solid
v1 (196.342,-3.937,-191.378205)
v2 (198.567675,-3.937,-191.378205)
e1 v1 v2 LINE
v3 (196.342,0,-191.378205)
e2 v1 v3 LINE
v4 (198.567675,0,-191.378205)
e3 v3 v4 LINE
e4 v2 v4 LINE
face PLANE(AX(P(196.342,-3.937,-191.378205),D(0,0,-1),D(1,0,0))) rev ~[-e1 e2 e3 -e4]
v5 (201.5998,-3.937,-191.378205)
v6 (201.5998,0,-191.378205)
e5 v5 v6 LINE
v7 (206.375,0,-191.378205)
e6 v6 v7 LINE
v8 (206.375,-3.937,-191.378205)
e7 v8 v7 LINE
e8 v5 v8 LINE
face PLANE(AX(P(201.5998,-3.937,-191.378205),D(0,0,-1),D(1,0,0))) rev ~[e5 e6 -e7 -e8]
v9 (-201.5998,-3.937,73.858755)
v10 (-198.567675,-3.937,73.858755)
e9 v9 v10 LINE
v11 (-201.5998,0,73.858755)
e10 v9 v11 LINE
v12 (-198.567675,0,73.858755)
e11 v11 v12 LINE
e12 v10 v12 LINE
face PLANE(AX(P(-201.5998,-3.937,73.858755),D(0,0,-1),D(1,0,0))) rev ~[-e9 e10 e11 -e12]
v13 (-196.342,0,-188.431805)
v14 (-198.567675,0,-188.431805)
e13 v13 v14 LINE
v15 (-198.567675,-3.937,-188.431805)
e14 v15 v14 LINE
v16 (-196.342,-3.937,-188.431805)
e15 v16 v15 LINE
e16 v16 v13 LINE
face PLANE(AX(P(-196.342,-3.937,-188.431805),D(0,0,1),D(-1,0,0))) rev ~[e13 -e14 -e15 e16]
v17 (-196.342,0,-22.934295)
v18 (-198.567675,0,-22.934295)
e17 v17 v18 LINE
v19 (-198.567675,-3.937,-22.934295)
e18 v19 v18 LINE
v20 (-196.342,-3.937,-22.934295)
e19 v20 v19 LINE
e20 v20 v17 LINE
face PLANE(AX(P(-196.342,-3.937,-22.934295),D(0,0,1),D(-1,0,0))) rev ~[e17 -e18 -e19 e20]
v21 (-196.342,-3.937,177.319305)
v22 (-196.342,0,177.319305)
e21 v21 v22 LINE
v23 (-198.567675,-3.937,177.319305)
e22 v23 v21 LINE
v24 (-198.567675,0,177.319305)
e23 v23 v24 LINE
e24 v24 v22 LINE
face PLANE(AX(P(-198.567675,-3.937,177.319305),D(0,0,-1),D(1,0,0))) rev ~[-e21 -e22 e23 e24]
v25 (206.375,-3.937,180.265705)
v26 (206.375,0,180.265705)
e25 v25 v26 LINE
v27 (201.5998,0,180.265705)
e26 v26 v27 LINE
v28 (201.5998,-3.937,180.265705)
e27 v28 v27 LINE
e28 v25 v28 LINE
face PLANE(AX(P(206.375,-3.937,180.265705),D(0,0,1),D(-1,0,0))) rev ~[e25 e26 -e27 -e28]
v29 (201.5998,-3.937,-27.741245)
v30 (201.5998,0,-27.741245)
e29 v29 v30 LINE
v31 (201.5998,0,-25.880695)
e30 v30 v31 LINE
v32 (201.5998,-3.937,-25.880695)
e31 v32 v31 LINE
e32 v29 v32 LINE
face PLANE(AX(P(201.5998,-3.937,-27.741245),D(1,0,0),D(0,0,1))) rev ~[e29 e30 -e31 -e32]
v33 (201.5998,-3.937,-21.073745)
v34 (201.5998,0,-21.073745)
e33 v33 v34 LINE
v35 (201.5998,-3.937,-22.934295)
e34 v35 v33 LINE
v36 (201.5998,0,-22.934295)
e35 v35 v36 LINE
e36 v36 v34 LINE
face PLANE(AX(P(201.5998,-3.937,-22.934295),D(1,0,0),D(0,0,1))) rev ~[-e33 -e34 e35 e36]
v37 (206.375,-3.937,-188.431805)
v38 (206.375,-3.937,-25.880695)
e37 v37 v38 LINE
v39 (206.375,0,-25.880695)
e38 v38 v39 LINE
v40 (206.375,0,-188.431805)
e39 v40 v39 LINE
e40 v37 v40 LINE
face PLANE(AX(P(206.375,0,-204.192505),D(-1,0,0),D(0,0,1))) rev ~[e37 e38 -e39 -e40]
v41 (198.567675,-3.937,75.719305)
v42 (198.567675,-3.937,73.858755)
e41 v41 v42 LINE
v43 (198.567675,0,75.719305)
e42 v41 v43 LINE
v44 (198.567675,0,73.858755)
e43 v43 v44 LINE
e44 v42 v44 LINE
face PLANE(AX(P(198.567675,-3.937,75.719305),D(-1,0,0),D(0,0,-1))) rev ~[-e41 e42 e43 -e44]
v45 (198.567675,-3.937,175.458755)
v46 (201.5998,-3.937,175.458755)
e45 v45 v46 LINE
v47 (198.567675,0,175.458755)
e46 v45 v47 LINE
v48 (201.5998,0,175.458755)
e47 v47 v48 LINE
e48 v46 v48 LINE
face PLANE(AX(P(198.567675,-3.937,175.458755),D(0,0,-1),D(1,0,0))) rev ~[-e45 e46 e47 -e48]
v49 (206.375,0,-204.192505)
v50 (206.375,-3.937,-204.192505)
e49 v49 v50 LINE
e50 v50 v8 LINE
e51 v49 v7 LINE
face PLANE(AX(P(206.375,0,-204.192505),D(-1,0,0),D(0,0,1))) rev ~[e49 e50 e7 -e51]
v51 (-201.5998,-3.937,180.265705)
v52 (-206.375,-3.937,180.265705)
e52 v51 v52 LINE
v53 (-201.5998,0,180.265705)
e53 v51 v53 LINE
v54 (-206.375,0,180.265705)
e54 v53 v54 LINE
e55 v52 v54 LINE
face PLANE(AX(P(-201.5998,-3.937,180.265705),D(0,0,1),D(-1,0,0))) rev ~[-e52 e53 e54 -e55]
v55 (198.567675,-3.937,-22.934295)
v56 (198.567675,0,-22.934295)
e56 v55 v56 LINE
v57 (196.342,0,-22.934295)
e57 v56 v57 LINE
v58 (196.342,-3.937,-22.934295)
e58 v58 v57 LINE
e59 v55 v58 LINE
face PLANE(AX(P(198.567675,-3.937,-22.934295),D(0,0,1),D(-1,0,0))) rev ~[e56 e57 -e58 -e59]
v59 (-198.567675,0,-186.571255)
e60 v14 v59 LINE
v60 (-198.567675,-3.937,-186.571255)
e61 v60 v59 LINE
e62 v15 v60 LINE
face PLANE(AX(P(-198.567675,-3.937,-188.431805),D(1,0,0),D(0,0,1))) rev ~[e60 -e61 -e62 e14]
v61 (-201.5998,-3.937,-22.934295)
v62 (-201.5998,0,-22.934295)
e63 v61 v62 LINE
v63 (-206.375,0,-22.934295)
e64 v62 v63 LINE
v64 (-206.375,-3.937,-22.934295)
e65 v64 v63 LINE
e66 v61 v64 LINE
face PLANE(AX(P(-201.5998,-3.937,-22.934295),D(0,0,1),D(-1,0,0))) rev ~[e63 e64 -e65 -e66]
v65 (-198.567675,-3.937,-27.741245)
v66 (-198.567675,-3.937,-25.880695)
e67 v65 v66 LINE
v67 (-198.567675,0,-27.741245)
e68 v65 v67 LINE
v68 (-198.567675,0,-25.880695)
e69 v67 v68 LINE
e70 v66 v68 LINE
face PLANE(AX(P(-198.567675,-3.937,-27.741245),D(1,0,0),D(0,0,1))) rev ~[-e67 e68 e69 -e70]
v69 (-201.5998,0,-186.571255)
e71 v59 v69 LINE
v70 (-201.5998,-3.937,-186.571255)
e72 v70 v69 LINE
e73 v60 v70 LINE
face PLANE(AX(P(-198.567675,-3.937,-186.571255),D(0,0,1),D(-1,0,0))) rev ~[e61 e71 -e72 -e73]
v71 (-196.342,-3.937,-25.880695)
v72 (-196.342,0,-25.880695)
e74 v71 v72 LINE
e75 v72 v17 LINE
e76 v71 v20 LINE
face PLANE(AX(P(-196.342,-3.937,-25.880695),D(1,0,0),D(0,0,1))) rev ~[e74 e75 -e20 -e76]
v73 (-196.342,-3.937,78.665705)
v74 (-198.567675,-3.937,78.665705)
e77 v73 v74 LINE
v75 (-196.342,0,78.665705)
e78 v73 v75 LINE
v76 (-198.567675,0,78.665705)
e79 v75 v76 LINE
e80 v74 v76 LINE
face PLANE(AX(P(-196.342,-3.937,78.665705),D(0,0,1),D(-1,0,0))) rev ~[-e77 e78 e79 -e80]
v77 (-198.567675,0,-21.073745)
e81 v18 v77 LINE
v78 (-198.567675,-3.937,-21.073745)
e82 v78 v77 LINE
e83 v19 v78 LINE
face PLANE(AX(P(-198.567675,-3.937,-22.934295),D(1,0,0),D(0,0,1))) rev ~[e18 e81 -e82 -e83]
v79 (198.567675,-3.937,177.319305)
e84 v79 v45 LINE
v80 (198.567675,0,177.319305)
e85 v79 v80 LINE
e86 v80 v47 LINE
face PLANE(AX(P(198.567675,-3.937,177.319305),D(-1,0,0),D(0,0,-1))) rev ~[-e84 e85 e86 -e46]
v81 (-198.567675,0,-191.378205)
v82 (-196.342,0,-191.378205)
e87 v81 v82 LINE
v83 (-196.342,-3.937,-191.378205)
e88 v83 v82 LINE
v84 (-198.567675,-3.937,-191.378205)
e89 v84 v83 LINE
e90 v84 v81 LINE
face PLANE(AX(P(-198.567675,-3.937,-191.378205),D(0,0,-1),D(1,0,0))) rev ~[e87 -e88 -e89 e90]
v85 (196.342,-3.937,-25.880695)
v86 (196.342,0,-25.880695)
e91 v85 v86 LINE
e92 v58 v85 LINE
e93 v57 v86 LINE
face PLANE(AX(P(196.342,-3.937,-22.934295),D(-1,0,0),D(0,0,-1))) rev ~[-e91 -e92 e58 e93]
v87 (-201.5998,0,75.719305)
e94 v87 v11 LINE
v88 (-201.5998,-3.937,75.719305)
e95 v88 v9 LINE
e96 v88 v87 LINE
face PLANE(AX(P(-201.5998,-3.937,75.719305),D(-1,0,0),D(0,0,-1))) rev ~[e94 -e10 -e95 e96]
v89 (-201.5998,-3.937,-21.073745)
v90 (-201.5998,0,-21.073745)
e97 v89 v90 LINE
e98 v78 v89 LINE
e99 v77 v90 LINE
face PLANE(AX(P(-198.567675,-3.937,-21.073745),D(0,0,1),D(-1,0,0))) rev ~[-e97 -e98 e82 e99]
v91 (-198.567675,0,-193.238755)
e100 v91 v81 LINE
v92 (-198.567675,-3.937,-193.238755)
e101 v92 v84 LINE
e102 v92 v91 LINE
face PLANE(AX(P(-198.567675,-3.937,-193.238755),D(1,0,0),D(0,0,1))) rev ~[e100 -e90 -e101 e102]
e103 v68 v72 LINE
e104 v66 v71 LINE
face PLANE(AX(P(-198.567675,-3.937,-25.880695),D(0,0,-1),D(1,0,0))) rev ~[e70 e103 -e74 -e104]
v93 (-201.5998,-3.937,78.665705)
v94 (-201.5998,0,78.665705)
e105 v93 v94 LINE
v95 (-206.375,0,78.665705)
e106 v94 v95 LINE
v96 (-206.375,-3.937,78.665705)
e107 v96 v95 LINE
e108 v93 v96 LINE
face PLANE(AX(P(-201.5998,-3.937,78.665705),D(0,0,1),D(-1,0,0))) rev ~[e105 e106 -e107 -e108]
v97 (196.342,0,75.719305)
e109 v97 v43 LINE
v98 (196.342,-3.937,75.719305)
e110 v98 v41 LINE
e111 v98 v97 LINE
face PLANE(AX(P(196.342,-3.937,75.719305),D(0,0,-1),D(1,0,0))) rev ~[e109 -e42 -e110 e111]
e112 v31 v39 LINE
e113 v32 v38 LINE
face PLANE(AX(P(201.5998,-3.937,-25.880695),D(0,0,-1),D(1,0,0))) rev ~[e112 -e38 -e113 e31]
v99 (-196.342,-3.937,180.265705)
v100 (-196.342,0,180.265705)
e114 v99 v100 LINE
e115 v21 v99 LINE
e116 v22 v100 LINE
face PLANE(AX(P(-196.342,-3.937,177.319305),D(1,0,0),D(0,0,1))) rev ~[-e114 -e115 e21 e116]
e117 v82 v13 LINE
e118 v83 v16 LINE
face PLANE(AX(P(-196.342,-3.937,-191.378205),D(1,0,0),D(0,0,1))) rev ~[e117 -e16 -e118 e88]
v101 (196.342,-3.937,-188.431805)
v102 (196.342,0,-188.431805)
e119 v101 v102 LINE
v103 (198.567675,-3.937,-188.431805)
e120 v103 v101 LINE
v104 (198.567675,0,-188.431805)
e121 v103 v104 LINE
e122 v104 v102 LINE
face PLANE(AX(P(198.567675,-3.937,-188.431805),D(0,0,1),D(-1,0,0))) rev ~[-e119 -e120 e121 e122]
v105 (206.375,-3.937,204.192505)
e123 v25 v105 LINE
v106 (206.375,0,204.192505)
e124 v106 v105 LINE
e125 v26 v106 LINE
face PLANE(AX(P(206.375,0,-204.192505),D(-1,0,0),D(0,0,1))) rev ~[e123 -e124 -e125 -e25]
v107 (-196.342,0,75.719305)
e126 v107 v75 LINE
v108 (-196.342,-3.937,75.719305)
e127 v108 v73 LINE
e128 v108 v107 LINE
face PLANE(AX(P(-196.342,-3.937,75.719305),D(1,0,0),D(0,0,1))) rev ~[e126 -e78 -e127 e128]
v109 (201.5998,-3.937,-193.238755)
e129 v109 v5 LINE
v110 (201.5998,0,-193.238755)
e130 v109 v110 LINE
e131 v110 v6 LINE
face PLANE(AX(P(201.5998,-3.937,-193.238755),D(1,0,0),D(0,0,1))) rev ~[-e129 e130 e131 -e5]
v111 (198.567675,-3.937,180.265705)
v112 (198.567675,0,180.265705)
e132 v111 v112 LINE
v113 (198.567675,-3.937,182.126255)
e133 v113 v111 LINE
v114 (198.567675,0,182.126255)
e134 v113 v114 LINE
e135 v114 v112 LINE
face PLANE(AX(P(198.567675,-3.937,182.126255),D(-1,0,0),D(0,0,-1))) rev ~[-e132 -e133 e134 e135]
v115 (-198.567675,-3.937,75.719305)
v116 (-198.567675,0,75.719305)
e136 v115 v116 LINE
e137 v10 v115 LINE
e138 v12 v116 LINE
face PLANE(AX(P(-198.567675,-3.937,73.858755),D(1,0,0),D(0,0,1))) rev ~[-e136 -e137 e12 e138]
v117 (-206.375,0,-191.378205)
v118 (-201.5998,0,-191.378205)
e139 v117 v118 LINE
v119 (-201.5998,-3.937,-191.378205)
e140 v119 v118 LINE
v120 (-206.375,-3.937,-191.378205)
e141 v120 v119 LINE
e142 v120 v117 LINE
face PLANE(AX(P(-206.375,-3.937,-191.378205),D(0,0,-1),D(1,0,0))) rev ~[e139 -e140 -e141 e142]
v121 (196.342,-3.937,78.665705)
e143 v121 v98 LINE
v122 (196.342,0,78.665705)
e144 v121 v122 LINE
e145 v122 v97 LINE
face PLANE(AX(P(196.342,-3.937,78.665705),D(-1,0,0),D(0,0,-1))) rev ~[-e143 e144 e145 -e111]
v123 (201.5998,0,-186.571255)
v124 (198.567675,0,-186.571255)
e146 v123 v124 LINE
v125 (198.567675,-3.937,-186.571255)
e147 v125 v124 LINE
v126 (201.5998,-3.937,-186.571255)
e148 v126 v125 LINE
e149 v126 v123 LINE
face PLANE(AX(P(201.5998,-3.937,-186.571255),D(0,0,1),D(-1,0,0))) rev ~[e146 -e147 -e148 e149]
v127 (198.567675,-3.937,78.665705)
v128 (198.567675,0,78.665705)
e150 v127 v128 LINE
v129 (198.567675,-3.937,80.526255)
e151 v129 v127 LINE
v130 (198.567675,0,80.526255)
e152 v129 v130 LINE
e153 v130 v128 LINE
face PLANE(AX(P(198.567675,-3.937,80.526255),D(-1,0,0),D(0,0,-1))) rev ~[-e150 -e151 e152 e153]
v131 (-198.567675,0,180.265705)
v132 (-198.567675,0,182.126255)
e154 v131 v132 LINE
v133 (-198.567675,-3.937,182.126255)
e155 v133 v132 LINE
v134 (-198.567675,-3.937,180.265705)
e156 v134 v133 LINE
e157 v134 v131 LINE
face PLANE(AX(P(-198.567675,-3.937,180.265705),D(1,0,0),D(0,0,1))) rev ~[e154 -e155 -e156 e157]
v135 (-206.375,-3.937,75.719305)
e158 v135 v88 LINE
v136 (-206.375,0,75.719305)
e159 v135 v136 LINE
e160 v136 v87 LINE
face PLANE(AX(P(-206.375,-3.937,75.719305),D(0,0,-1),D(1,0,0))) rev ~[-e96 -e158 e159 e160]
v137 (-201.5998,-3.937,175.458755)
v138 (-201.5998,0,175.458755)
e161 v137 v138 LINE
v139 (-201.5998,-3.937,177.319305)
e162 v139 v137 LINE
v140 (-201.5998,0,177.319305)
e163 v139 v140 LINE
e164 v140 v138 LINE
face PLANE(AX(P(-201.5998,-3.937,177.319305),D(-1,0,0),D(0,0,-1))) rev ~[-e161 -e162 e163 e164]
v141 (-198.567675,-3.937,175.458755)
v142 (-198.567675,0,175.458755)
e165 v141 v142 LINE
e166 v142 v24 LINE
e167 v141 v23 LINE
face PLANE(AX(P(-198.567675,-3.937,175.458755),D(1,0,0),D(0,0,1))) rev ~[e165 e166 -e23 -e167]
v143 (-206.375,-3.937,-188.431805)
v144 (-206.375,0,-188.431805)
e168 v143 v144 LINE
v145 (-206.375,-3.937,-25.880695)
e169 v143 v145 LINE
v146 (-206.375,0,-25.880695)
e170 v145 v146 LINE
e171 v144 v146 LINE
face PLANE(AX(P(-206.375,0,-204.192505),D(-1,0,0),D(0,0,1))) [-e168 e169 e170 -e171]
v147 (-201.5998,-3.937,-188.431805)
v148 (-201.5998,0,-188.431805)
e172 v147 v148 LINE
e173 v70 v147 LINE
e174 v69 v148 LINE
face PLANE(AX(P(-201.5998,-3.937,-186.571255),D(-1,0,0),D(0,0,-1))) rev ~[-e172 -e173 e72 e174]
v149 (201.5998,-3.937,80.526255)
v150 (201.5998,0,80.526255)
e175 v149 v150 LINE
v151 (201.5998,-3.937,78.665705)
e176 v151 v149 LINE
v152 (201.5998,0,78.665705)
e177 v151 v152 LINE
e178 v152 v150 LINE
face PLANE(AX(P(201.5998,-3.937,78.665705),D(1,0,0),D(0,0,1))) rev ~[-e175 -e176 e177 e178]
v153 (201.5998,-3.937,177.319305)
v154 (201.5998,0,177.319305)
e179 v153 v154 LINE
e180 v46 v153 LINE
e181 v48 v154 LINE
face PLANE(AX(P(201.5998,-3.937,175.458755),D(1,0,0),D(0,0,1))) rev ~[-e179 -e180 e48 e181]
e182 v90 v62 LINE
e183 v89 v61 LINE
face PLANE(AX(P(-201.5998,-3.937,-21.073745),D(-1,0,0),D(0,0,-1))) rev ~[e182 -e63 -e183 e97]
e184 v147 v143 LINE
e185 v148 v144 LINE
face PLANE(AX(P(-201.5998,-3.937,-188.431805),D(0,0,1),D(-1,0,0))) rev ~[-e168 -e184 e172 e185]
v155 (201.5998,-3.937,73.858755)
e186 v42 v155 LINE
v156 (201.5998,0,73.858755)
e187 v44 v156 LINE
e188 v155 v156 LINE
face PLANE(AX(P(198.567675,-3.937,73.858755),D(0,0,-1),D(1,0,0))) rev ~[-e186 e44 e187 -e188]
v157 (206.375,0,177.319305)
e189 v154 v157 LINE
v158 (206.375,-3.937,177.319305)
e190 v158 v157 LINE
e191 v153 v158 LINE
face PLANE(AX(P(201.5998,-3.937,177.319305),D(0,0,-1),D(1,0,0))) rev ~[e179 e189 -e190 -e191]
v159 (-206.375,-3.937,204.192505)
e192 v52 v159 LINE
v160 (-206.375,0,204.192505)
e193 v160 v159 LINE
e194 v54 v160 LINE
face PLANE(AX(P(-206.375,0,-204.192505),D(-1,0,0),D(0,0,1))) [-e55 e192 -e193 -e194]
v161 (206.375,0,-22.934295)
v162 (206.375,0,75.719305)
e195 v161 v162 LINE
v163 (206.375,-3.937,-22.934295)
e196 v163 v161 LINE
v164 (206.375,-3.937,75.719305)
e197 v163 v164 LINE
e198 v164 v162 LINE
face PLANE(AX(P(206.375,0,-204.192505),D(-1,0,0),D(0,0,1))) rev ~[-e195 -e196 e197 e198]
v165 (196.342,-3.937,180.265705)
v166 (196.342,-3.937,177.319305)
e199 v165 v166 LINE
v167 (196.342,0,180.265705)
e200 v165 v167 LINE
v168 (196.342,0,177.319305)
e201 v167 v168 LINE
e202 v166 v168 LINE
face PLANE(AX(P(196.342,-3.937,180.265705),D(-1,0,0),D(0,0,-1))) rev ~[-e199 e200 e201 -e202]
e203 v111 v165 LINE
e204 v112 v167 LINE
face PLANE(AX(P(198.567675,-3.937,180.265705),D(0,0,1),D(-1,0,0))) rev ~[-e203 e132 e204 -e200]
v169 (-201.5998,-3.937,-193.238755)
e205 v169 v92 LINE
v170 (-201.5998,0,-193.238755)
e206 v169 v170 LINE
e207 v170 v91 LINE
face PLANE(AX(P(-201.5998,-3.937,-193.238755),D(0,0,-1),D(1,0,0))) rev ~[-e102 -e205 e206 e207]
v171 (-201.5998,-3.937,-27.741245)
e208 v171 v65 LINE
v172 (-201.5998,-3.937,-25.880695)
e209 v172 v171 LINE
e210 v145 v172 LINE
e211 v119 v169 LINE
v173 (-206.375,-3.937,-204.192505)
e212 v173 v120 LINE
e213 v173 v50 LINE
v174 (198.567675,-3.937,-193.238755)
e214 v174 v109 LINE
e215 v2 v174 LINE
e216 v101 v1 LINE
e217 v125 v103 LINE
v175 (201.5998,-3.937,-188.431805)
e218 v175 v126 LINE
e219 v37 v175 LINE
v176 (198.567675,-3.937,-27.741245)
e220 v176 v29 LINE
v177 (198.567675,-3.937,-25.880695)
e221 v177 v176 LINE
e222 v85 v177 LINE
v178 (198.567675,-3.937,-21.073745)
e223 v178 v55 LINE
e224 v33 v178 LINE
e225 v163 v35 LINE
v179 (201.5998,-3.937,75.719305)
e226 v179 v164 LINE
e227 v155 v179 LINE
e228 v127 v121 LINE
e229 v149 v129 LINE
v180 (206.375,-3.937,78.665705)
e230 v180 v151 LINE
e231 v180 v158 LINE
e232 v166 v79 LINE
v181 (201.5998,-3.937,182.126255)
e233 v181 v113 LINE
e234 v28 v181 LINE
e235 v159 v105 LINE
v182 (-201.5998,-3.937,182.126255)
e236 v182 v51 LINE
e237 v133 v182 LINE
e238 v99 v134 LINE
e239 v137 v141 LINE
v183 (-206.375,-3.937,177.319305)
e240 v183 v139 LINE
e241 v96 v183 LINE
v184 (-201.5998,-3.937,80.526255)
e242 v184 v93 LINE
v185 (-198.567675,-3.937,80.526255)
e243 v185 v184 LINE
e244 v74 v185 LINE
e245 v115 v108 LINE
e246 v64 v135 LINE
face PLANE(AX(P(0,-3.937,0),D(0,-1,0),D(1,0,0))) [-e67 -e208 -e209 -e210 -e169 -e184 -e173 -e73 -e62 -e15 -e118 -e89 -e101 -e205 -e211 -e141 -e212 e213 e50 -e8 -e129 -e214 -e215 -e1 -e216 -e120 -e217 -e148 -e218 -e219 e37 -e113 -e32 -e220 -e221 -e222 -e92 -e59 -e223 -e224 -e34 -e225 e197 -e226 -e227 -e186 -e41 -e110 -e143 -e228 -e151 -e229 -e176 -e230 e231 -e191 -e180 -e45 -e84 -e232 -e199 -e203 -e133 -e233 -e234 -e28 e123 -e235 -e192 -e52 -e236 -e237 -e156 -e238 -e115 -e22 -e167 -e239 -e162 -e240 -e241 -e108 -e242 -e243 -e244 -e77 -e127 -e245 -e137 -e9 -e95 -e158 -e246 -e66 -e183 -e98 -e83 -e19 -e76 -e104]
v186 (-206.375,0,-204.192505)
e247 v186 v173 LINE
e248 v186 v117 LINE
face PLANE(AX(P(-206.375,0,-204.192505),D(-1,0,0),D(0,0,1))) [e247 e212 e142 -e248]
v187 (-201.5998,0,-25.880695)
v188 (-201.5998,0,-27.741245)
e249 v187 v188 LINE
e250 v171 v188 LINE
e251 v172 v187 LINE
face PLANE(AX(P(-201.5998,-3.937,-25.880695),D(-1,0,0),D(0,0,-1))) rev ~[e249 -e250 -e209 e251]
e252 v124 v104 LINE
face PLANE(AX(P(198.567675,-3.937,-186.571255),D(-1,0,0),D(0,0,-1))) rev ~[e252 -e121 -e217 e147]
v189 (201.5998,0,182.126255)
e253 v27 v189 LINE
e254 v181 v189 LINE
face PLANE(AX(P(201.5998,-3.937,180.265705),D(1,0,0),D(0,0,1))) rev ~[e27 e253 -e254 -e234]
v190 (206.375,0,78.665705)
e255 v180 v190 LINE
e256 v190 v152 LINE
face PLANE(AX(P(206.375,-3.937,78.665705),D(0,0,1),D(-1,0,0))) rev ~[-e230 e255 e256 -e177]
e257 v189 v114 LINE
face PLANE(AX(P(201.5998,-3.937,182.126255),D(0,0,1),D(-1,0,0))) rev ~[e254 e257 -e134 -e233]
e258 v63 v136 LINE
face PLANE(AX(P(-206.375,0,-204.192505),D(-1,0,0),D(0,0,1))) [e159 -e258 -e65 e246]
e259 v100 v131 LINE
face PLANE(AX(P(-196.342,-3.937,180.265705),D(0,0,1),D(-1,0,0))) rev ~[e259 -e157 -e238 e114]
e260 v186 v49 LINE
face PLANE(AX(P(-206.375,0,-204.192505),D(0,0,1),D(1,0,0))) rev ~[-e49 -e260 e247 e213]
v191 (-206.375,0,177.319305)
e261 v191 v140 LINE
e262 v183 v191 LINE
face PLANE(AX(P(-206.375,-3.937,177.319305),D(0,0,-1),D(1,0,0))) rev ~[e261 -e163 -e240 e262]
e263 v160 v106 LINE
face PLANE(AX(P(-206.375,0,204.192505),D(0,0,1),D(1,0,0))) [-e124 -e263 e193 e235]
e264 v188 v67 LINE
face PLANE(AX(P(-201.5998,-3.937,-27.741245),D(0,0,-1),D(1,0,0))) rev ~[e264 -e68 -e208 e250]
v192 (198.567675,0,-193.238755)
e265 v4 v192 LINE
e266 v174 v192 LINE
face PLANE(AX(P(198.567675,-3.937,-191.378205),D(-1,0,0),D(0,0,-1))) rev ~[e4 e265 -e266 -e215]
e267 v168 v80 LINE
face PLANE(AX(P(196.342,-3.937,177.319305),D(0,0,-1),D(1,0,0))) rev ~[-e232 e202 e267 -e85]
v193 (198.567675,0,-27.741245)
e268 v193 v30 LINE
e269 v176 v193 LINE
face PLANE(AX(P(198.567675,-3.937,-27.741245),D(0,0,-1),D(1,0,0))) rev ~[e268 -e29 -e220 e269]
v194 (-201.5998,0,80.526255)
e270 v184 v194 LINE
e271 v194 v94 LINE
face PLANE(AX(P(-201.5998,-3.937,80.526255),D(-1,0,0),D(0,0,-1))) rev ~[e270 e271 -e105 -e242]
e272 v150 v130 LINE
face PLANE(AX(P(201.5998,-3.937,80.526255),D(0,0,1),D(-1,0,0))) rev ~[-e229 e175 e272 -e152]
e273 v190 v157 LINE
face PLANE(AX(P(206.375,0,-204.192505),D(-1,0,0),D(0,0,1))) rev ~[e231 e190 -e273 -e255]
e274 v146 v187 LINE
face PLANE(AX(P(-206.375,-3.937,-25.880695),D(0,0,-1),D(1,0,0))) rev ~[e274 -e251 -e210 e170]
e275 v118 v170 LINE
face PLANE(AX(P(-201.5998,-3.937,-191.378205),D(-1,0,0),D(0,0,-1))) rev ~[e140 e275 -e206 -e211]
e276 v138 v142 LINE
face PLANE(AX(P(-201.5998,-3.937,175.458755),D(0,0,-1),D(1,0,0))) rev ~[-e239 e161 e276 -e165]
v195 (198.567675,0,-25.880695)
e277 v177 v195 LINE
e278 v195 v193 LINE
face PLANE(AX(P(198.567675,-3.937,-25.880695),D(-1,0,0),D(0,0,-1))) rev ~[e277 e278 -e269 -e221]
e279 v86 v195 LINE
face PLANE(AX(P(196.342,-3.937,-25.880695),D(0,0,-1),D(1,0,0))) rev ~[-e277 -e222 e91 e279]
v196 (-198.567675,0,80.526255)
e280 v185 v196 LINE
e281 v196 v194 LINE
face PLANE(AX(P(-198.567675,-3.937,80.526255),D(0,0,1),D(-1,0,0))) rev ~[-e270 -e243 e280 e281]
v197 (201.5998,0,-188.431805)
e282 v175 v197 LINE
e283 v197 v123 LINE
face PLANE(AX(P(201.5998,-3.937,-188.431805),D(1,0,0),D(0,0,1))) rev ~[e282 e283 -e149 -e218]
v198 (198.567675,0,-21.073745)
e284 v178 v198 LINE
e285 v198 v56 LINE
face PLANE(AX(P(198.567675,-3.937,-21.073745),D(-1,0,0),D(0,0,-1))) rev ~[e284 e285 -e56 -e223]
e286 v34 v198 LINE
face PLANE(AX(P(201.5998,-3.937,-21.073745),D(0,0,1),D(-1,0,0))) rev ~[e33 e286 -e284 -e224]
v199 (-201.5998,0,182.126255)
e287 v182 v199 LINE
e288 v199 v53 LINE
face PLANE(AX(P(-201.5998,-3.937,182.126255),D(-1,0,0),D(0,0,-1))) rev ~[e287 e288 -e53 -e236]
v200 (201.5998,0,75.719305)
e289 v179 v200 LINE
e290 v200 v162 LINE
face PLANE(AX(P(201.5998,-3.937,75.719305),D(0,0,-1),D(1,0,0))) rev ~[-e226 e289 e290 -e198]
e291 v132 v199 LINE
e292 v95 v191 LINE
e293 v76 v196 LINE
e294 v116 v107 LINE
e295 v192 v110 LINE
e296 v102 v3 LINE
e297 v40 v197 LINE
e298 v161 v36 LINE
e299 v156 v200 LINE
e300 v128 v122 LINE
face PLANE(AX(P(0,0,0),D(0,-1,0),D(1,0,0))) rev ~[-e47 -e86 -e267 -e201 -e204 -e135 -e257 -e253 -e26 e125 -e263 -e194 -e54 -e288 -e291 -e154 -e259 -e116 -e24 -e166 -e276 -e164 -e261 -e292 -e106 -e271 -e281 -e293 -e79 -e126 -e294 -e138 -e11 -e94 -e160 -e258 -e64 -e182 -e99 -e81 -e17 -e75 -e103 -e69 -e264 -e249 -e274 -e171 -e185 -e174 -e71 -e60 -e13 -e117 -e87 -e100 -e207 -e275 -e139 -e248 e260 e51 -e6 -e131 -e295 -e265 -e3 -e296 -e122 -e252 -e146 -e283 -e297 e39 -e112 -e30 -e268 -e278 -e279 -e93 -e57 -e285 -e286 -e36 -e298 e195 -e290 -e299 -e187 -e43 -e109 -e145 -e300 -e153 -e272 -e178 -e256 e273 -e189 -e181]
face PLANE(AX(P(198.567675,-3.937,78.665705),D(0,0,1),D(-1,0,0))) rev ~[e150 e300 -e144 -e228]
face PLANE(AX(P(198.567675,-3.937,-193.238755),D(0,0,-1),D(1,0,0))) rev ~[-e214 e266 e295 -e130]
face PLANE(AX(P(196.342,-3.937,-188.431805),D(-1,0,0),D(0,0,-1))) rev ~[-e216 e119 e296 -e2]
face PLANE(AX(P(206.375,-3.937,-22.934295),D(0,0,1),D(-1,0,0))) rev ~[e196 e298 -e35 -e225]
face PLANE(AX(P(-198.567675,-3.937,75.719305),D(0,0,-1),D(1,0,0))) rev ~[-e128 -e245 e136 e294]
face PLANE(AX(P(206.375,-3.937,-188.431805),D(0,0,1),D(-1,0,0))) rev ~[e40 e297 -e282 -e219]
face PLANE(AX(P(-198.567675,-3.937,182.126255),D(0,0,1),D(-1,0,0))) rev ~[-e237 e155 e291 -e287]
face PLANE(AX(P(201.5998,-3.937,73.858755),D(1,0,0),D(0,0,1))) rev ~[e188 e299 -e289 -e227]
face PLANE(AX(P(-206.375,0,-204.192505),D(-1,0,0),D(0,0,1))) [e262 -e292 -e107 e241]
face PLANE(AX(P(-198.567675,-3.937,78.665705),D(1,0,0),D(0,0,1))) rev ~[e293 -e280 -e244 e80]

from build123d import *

# Parameters (mm, degrees)
F0_W     = 412.75
F0_H     = 408.38501
F1_DEPTH = 3.937
F2_W     = 3.175
F2_H     = 2.9464
F3_DEPTH = 3.937


with BuildPart() as f1:
    # F0 (on Front) → F1 (new body)
    with BuildSketch(Plane.XZ):
        Rectangle(F0_W, F0_H)
    extrude(amount=F1_DEPTH)

    # F2 (on face) → F3 (cut, through all)
    with BuildSketch(Plane.XZ.offset(3.937)):
        Polygon((-203.2, 180.265705), (-203.2, 177.319305), (-201.5998, 177.319305), (-201.5998, 175.458755), (-198.567675, 175.458755), (-198.567675, 177.319305), (-196.342, 177.319305), (-196.342, 178.792505), (-196.342, 180.265705), (-198.567675, 180.265705), (-198.567675, 182.126255), (-201.5998, 182.126255), (-201.5998, 180.265705), align=None)
        with Locations((-204.7875, 178.792505)):
            Rectangle(F2_W, F2_H)
        Polygon((-198.567675, 80.526255), (-201.5998, 80.526255), (-201.5998, 78.665705), (-203.2, 78.665705), (-203.2, 75.719305), (-201.5998, 75.719305), (-201.5998, 73.858755), (-198.567675, 73.858755), (-198.567675, 75.719305), (-196.342, 75.719305), (-196.342, 77.192505), (-196.342, 78.665705), (-198.567675, 78.665705), align=None)
        with Locations((-204.7875, 77.192505)):
            Rectangle(F2_W, F2_H)
        Polygon((-198.567675, -21.073745), (-201.5998, -21.073745), (-201.5998, -22.934295), (-203.2, -22.934295), (-203.2, -25.880695), (-201.5998, -25.880695), (-201.5998, -27.741245), (-198.567675, -27.741245), (-198.567675, -25.880695), (-196.342, -25.880695), (-196.342, -24.407495), (-196.342, -22.934295), (-198.567675, -22.934295), align=None)
        with Locations((-204.7875, -24.407495)):
            Rectangle(F2_W, F2_H)
        Polygon((-203.2, -188.431805), (-203.2, -191.378205), (-201.5998, -191.378205), (-201.5998, -193.238755), (-198.567675, -193.238755), (-198.567675, -191.378205), (-196.342, -191.378205), (-196.342, -189.905005), (-196.342, -188.431805), (-198.567675, -188.431805), (-198.567675, -186.571255), (-201.5998, -186.571255), (-201.5998, -188.431805), align=None)
        with Locations((-204.7875, -189.905005)):
            Rectangle(F2_W, F2_H)
        with Locations((204.7875, 178.792505)):
            Rectangle(F2_W, F2_H)
        Polygon((203.2, 177.319305), (203.2, 180.265705), (201.5998, 180.265705), (201.5998, 182.126255), (198.567675, 182.126255), (198.567675, 180.265705), (196.342, 180.265705), (196.342, 178.792505), (196.342, 177.319305), (198.567675, 177.319305), (198.567675, 175.458755), (201.5998, 175.458755), (201.5998, 177.319305), align=None)
        Polygon((198.567675, -188.431805), (196.342, -188.431805), (196.342, -189.905005), (196.342, -191.378205), (198.567675, -191.378205), (198.567675, -193.238755), (201.5998, -193.238755), (201.5998, -191.378205), (203.2, -191.378205), (203.2, -188.431805), (201.5998, -188.431805), (201.5998, -186.571255), (198.567675, -186.571255), align=None)
        with Locations((204.7875, -189.905005)):
            Rectangle(F2_W, F2_H)
        Polygon((196.342, 75.719305), (198.567675, 75.719305), (198.567675, 73.858755), (201.5998, 73.858755), (201.5998, 75.719305), (203.2, 75.719305), (203.2, 78.665705), (201.5998, 78.665705), (201.5998, 80.526255), (198.567675, 80.526255), (198.567675, 78.665705), (196.342, 78.665705), (196.342, 77.192505), align=None)
        with Locations((204.7875, 77.192505)):
            Rectangle(F2_W, F2_H)
        Polygon((198.567675, -21.073745), (198.567675, -22.934295), (196.342, -22.934295), (196.342, -24.407495), (196.342, -25.880695), (198.567675, -25.880695), (198.567675, -27.741245), (201.5998, -27.741245), (201.5998, -25.880695), (203.2, -25.880695), (203.2, -22.934295), (201.5998, -22.934295), (201.5998, -21.073745), align=None)
        with Locations((204.7875, -24.407495)):
            Rectangle(F2_W, F2_H)
    extrude(amount=-F3_DEPTH, mode=Mode.SUBTRACT)


solid = f1.part
